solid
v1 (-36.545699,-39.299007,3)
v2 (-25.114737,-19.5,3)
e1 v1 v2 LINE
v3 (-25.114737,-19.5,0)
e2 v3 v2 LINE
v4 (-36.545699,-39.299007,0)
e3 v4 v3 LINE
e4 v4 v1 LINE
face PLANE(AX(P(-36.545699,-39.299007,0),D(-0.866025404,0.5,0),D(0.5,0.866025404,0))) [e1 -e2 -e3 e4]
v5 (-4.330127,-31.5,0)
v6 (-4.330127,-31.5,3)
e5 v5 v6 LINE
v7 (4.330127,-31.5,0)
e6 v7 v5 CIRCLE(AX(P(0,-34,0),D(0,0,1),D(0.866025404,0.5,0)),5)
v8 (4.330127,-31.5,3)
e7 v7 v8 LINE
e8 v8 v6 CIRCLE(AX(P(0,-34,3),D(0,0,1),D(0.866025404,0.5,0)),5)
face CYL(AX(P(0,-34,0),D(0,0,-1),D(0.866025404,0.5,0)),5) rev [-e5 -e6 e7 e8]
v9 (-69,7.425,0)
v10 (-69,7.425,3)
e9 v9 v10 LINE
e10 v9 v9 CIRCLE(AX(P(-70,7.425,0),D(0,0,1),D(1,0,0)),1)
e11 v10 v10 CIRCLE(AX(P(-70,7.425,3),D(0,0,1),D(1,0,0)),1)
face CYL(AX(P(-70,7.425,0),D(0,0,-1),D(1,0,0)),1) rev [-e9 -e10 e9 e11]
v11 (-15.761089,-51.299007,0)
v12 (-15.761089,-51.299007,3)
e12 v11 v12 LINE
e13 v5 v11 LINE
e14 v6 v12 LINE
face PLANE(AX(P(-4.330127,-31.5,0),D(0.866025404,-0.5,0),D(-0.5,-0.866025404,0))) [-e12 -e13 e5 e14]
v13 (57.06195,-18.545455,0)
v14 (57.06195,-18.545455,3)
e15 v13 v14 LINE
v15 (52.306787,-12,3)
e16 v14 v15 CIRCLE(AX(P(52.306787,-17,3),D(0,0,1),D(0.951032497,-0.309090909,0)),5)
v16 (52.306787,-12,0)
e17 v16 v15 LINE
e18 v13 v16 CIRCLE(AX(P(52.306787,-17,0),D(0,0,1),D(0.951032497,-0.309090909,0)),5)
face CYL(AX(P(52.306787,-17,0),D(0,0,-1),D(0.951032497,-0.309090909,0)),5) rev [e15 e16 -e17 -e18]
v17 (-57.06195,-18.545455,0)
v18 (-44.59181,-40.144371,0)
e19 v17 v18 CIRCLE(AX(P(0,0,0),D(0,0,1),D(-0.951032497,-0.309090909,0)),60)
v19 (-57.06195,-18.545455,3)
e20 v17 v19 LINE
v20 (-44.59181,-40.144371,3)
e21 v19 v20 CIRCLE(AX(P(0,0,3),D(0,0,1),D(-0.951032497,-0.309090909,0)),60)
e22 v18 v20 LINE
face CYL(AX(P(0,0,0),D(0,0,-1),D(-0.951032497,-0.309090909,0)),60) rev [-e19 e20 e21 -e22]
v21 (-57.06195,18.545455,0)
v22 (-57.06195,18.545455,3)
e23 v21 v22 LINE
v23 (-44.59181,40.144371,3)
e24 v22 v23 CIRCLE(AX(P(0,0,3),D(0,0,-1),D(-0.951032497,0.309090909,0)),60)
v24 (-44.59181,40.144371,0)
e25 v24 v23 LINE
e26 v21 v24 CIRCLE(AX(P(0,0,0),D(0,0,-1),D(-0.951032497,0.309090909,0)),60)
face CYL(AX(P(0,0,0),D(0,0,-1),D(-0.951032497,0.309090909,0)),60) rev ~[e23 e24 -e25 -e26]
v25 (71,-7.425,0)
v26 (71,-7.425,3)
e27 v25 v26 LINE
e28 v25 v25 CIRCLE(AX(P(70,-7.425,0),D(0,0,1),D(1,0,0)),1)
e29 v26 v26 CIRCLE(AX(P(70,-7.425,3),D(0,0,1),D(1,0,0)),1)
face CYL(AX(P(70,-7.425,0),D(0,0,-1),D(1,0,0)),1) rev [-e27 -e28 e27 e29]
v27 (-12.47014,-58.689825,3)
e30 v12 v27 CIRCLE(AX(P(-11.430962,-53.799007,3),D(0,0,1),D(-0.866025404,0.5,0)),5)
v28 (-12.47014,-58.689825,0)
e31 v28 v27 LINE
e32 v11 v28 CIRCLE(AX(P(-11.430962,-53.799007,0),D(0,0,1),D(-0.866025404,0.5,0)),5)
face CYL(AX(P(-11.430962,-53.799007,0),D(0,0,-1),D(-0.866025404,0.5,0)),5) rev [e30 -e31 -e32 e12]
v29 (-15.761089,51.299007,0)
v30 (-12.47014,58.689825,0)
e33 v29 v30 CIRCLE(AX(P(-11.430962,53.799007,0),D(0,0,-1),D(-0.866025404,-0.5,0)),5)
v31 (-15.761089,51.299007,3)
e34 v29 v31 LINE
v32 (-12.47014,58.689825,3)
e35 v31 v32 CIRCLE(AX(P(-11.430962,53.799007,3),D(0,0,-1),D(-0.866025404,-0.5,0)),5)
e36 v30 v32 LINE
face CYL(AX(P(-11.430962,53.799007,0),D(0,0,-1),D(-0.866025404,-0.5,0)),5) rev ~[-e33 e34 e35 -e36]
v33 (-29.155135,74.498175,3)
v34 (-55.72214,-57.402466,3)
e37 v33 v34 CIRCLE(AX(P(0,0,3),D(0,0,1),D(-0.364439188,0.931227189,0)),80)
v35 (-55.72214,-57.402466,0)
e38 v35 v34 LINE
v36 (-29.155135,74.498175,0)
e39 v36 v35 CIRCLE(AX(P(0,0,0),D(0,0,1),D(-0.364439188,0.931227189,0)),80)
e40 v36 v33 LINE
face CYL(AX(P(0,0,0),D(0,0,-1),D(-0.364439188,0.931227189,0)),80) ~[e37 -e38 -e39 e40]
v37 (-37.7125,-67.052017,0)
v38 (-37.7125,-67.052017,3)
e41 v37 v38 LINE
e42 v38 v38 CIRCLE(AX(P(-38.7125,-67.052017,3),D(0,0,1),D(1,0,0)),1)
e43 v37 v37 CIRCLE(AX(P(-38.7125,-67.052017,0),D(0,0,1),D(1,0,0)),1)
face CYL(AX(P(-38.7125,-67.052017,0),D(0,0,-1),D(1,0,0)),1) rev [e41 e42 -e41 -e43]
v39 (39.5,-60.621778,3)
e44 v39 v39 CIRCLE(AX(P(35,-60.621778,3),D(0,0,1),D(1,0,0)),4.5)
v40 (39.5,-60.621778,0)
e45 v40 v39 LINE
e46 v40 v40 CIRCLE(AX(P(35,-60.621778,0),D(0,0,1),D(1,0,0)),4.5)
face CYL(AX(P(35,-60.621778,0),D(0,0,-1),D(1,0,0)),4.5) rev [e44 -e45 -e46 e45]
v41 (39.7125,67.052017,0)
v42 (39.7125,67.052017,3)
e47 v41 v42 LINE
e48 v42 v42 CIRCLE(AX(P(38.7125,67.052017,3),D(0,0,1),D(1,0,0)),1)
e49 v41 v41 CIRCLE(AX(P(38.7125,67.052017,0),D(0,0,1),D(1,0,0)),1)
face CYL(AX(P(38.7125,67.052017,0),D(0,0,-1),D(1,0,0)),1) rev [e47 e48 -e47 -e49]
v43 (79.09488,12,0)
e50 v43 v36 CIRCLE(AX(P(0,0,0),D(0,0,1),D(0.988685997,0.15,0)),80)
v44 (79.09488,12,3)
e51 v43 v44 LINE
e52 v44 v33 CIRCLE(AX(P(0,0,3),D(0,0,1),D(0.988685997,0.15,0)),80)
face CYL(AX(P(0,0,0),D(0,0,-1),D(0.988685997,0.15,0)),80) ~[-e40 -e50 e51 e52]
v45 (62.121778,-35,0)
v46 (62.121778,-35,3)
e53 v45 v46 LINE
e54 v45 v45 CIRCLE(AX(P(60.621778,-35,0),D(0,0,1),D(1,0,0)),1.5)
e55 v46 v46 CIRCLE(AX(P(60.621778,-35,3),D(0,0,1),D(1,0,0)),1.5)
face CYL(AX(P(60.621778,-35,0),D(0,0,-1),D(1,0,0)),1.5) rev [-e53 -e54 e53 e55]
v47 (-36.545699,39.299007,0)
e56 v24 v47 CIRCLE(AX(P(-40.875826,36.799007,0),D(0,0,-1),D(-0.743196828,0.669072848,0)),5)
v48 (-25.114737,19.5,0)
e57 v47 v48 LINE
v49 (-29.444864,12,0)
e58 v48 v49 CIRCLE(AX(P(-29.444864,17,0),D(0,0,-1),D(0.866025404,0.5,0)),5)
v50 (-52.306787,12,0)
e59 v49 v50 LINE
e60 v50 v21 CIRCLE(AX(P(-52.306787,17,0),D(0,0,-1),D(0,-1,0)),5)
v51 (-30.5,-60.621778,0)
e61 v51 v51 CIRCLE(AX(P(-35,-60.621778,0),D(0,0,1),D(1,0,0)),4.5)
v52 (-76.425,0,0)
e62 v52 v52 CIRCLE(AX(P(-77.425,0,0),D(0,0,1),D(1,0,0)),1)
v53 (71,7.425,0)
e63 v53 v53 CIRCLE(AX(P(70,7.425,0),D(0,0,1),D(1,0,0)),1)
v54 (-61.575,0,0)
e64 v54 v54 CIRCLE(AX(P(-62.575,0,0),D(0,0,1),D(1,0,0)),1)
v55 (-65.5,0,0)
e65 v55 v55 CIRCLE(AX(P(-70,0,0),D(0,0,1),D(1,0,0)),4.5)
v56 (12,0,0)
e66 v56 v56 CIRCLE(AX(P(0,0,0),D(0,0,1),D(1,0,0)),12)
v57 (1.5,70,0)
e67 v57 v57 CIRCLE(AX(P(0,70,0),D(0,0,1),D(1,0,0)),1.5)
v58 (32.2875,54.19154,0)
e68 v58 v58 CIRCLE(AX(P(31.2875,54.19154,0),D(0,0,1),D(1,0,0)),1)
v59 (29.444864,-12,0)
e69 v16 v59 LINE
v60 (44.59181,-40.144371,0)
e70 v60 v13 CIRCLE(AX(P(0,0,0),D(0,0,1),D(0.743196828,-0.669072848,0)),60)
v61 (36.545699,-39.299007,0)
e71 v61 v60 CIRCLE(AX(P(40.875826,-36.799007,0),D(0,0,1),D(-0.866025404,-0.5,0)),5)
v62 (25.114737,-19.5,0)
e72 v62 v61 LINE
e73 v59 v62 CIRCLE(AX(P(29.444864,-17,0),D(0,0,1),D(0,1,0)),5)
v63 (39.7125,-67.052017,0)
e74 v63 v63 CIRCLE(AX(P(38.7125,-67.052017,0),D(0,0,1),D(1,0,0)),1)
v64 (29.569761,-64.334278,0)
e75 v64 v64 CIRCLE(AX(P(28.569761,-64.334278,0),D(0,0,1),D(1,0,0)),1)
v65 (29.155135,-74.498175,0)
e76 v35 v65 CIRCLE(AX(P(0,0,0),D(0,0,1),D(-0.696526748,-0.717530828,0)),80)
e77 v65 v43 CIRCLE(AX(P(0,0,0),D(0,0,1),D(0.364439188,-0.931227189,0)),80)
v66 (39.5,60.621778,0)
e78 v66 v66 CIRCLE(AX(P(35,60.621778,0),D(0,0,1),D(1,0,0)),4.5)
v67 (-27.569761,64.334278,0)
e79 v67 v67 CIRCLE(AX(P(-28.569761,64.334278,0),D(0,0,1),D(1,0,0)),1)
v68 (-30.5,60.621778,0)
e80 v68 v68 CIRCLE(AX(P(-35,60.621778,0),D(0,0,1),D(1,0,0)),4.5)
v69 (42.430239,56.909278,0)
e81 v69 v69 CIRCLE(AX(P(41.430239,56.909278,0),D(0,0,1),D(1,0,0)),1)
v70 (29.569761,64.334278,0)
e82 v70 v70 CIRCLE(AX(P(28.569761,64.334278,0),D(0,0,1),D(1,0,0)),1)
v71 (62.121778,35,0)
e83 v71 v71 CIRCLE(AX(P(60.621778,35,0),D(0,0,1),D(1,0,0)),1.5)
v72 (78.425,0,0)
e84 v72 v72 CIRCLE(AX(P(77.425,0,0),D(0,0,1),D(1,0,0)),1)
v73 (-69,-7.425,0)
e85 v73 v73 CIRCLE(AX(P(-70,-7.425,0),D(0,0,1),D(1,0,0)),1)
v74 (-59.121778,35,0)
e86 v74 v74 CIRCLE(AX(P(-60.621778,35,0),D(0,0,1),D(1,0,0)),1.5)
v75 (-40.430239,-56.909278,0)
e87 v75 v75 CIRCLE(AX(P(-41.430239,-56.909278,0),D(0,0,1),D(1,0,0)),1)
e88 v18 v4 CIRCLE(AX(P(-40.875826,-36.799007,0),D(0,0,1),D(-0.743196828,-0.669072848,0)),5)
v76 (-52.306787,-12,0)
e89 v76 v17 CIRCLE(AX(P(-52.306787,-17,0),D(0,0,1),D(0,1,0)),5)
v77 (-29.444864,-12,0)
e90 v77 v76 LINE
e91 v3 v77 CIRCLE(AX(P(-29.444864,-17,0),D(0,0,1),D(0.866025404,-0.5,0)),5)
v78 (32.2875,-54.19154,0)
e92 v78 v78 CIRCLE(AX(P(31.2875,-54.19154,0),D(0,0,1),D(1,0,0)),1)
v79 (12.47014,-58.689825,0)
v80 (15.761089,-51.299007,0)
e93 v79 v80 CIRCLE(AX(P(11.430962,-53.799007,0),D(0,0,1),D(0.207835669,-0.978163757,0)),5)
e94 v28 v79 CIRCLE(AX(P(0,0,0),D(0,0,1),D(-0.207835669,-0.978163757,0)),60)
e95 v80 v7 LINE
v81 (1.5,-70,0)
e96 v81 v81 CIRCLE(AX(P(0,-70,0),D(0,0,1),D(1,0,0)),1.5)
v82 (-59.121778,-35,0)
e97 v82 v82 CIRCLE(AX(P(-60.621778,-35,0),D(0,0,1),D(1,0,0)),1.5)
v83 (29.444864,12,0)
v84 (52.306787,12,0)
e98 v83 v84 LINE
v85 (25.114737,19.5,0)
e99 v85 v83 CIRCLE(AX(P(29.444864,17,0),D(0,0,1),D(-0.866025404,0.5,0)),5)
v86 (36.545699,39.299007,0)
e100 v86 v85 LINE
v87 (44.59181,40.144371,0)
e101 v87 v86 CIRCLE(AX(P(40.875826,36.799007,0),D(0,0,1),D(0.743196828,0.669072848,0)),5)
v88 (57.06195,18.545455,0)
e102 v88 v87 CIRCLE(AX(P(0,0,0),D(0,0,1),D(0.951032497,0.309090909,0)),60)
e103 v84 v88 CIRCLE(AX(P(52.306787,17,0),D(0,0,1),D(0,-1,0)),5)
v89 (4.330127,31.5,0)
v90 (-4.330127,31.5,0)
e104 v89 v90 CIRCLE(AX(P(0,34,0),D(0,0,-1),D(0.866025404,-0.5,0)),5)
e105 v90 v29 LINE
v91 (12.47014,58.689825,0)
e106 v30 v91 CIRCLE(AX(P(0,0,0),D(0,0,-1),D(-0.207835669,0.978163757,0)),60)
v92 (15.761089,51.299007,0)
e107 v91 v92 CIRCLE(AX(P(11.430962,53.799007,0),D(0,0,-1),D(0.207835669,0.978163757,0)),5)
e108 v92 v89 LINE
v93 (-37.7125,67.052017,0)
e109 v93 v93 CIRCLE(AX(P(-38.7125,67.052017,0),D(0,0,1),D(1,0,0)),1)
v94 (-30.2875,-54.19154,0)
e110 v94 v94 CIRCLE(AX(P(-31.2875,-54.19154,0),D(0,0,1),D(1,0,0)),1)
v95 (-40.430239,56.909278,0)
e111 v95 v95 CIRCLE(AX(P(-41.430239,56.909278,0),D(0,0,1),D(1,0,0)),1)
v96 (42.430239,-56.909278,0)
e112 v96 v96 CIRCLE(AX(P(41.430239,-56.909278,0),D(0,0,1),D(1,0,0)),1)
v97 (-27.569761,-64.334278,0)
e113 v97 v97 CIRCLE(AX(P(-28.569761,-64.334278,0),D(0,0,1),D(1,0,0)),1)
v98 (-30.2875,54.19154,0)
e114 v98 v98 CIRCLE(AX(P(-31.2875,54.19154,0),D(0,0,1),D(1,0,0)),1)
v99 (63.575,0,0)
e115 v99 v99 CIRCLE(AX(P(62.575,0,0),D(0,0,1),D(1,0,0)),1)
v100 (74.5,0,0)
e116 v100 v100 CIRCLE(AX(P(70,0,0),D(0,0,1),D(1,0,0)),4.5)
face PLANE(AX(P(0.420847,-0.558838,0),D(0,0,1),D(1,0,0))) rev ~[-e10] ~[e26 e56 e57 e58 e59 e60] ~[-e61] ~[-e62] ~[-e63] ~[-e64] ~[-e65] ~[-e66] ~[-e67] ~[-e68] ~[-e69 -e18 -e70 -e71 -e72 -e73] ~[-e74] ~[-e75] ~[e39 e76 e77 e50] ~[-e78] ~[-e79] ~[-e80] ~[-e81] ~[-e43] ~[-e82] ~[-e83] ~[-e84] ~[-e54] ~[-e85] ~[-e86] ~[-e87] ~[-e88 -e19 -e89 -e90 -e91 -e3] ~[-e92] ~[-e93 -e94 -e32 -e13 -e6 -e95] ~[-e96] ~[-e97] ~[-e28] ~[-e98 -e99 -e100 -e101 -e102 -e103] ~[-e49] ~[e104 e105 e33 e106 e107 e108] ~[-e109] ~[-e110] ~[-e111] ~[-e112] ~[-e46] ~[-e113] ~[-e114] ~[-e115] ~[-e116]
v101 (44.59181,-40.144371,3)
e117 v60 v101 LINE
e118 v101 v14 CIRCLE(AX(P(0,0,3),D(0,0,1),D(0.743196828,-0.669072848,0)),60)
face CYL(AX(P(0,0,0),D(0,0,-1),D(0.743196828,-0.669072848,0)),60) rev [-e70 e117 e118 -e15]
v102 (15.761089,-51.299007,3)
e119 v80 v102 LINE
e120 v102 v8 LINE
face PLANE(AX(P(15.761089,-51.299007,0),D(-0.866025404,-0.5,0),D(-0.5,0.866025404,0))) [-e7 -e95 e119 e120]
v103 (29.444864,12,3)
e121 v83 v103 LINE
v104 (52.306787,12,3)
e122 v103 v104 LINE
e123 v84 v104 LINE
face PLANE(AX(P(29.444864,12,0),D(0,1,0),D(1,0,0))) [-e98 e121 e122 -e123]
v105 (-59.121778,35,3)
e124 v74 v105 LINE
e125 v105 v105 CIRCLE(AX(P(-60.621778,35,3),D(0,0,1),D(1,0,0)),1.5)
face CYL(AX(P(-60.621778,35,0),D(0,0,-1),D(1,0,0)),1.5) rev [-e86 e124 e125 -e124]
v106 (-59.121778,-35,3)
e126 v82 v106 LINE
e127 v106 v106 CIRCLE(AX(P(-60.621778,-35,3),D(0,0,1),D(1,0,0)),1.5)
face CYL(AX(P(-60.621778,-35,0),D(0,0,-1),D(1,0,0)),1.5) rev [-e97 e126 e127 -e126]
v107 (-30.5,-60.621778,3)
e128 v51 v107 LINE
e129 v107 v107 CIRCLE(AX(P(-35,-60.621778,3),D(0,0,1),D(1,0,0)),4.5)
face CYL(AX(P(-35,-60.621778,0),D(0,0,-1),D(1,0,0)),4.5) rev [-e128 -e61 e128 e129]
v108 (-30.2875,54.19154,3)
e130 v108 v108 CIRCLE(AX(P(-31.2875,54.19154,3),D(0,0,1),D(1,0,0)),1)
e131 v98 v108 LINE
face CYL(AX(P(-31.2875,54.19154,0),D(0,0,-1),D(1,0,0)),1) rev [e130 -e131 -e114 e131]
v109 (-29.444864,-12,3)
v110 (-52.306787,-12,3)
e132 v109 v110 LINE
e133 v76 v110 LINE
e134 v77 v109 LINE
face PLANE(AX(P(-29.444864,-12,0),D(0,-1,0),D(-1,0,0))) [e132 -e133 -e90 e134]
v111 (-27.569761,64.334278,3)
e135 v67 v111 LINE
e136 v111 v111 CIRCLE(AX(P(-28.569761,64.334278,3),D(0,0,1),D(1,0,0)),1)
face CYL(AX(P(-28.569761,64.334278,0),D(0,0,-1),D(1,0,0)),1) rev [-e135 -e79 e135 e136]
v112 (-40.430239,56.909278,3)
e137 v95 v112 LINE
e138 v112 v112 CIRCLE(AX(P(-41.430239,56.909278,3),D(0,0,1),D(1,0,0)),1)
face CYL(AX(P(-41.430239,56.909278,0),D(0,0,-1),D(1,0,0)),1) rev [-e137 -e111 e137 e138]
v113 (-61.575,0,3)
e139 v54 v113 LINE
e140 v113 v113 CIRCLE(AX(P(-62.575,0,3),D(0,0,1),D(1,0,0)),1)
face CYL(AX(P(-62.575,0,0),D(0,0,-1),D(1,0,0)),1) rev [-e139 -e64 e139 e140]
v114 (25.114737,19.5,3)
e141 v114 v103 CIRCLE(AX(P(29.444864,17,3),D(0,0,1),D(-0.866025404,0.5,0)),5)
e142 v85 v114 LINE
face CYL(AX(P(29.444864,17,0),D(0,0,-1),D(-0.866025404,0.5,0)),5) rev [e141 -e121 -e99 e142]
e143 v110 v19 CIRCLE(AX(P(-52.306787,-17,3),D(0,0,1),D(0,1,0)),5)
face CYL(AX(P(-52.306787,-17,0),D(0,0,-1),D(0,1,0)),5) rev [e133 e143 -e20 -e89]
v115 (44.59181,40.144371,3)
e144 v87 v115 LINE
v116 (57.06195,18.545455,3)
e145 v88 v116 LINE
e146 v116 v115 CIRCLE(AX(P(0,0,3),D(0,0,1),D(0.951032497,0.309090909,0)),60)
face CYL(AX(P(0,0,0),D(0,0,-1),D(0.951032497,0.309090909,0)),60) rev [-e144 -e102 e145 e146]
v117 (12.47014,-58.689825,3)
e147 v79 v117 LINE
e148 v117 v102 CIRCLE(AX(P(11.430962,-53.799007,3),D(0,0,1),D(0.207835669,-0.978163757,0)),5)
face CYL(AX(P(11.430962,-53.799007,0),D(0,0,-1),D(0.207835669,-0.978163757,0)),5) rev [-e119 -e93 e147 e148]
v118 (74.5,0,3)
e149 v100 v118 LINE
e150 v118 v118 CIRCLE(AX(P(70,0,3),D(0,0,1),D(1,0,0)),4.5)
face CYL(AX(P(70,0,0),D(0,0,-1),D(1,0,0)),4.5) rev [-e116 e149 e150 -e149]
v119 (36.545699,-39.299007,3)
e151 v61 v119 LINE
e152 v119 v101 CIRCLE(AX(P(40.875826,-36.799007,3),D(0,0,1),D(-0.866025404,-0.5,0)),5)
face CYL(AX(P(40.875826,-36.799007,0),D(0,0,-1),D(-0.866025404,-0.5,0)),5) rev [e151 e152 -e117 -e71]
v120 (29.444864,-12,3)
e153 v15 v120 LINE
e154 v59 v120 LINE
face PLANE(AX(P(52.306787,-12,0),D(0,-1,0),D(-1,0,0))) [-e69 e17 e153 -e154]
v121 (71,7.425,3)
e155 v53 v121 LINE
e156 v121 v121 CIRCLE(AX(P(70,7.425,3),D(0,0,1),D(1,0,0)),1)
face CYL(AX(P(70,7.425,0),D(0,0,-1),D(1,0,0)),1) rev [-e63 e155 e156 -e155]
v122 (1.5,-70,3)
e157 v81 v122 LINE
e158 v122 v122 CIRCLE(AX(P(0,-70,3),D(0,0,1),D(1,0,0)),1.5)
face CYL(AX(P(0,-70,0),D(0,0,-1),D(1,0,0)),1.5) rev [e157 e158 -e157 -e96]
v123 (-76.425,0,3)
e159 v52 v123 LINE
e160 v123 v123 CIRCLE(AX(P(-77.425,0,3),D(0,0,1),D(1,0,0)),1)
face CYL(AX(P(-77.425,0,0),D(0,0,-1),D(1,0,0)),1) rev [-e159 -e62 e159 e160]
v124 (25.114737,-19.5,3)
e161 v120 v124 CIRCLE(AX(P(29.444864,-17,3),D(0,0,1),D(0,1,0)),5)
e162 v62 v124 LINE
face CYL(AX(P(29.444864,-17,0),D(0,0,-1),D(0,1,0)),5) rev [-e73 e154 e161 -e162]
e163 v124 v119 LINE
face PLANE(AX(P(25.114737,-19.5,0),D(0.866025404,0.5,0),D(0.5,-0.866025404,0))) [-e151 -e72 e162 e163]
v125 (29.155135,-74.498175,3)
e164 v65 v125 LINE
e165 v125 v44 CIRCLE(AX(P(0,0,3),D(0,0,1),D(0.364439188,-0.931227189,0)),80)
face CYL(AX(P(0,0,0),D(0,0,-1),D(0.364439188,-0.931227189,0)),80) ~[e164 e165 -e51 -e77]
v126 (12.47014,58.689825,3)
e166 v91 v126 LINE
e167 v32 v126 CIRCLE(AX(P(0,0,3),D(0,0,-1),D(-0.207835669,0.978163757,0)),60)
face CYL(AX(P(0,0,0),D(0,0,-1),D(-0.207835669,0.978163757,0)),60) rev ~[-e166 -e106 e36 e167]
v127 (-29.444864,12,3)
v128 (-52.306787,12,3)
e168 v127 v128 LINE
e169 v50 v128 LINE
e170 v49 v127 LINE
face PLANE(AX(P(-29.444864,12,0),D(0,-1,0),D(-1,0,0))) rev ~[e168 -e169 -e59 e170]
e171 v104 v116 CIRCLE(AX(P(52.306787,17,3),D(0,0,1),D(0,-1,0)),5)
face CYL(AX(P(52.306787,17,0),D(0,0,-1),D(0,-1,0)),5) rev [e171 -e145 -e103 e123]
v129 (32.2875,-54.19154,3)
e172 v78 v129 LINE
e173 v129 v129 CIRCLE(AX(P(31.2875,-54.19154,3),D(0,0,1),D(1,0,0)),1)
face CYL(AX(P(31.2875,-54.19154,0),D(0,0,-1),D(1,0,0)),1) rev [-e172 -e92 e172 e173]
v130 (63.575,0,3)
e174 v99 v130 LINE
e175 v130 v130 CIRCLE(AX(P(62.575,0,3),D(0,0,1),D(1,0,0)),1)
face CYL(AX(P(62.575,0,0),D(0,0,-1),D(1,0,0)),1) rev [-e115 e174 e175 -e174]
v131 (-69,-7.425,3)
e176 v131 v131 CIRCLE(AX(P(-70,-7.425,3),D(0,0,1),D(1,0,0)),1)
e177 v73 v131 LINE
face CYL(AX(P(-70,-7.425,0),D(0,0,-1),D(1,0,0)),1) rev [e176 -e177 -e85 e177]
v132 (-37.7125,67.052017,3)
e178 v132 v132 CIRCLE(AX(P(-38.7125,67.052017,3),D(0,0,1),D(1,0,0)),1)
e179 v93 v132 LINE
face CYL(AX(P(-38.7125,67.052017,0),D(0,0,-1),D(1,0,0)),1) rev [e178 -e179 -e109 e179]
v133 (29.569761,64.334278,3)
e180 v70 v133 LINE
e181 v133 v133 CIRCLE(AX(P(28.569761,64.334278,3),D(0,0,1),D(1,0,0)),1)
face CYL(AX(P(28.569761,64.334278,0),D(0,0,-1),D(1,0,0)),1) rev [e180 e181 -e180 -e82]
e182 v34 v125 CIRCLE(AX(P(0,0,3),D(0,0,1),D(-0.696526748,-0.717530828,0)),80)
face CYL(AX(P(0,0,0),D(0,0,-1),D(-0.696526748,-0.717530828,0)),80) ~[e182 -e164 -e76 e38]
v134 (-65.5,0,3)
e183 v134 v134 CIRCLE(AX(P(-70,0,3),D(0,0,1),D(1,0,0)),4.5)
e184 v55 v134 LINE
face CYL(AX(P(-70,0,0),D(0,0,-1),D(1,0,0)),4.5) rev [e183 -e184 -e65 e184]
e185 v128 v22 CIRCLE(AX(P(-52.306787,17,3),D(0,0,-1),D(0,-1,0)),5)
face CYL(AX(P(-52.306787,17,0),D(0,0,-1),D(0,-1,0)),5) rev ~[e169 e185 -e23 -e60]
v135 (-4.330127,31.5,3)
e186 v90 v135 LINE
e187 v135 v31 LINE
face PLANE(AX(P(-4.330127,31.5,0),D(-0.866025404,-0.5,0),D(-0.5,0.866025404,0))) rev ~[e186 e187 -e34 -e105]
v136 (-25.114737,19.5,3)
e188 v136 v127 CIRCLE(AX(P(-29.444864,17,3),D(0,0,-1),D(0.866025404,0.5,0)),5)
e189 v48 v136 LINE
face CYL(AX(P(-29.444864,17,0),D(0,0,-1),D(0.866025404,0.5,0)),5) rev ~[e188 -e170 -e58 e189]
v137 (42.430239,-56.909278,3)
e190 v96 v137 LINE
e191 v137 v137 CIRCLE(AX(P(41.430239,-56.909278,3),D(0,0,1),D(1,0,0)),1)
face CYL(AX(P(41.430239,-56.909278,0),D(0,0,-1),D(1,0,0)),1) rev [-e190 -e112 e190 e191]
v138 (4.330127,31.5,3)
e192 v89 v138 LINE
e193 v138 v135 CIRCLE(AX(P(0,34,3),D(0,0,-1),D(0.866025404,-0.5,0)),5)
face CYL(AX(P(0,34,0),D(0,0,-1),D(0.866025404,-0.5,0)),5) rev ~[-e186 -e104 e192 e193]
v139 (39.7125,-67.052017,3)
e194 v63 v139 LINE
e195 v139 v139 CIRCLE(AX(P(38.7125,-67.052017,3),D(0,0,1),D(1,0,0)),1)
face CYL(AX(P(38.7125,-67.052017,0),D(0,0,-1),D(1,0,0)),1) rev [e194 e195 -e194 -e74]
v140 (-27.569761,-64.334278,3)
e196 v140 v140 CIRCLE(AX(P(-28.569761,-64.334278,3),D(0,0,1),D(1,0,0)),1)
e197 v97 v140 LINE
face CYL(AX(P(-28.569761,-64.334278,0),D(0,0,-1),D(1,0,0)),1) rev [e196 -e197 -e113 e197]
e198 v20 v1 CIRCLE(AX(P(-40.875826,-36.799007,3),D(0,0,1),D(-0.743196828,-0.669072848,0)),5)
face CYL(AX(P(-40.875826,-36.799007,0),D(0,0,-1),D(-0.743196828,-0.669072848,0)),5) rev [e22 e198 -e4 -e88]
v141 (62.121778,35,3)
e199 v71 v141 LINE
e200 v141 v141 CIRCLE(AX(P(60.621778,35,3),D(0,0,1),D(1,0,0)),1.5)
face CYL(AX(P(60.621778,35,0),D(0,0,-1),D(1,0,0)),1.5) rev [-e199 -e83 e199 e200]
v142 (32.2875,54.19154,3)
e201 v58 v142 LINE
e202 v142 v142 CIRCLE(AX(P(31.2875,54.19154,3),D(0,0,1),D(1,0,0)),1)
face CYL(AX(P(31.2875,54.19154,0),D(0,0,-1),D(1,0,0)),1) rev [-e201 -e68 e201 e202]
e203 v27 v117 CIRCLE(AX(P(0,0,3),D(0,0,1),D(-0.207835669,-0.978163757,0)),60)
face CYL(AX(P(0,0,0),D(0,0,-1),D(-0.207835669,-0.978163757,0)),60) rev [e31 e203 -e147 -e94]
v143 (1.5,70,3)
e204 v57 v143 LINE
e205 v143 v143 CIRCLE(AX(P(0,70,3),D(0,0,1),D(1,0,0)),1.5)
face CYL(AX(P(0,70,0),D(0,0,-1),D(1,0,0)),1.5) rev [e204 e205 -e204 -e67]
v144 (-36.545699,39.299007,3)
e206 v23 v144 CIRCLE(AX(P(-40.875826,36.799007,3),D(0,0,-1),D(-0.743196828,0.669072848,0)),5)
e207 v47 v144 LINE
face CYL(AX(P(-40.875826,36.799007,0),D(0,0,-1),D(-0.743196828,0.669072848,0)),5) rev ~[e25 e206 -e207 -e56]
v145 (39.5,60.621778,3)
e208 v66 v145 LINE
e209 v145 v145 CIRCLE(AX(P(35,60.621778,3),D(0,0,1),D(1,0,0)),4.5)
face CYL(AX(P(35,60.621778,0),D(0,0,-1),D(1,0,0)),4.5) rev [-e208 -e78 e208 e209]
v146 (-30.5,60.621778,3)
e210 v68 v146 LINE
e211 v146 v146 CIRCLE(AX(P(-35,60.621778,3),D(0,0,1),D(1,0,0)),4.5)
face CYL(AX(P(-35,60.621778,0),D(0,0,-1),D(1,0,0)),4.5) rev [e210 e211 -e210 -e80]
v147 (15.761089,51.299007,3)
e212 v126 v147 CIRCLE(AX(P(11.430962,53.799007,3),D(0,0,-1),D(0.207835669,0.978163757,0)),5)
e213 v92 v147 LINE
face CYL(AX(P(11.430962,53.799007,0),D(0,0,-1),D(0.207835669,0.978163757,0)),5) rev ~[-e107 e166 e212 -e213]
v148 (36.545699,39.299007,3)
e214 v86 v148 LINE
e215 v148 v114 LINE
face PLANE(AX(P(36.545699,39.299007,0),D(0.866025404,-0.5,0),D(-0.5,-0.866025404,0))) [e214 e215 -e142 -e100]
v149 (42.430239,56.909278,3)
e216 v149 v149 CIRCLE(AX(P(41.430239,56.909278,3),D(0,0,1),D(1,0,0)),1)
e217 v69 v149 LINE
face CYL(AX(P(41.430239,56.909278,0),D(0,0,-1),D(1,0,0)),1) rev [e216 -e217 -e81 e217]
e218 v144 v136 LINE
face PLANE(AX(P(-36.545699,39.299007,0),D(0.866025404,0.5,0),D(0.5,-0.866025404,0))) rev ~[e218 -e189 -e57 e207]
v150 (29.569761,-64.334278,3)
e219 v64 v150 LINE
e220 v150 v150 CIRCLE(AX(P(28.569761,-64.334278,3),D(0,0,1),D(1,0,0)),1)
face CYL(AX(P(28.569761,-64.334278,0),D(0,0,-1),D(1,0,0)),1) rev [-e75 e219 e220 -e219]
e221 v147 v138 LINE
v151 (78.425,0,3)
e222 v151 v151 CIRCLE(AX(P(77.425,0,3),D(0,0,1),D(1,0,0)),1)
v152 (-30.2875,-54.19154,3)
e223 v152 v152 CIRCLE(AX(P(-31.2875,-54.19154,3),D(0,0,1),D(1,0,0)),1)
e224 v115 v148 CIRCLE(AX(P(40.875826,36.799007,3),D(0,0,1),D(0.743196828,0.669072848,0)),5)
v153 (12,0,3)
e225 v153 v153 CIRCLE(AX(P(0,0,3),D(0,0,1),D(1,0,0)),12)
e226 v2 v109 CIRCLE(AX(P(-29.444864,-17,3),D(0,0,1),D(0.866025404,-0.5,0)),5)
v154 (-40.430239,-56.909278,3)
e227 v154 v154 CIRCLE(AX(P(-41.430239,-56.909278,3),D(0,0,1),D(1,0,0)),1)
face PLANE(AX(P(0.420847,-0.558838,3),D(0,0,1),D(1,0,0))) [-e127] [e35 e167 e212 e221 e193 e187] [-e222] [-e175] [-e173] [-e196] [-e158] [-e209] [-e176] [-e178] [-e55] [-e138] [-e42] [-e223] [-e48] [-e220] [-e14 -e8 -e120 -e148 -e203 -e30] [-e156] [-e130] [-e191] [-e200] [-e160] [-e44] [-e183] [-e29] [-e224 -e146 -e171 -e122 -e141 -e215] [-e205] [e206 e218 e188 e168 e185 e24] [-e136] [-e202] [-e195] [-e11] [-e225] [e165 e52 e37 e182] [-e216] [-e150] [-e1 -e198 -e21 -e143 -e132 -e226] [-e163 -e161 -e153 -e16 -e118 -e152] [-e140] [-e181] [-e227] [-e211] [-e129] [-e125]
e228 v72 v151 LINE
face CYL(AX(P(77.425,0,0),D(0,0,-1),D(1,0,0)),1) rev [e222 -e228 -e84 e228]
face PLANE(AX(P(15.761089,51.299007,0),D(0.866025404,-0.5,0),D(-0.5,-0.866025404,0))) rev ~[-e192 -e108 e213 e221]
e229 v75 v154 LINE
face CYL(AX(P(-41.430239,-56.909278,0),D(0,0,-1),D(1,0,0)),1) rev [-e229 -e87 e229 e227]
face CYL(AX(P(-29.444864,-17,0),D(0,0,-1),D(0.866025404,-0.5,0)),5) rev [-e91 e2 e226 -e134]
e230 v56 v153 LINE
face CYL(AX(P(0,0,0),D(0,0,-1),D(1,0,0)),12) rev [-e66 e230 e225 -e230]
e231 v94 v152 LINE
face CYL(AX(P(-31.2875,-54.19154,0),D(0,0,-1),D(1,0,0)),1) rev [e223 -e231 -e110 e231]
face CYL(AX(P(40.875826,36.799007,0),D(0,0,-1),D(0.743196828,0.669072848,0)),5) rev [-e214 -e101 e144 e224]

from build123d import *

# Parameters (mm, degrees)
SKETCH1_R           = 4.5
SKETCH1_R_2         = 1
SKETCH1_R_3         = 12
SKETCH1_R_4         = 1.5
BOSS_EXTRUDE1_DEPTH = 3


with BuildPart() as part:
    # Sketch1 → Boss-Extrude1 (new body)
    with BuildSketch(Plane.XY):
        with BuildLine():
            ThreePointArc((-55.722139859, -57.402466232), (-15.796115106, -78.425013532), (29.155135021, -74.498175158))
            ThreePointArc((29.155135021, -74.498175158), (69.282032303, -40), (79.094879733, 12))
            ThreePointArc((79.094879733, 12), (40, 69.282032303), (-29.155135021, 74.498175158))
            ThreePointArc((-29.155135021, 74.498175158), (-78.425013532, 15.796115106), (-55.722139859, -57.402466232))
        make_face()
        with Locations((70, 0)):
            Circle(SKETCH1_R, mode=Mode.SUBTRACT)
        with Locations((77.425, 0)):
            Circle(SKETCH1_R_2, mode=Mode.SUBTRACT)
        with Locations((70, 7.425)):
            Circle(SKETCH1_R_2, mode=Mode.SUBTRACT)
        with Locations((62.575, 0)):
            Circle(SKETCH1_R_2, mode=Mode.SUBTRACT)
        with Locations((70, -7.425)):
            Circle(SKETCH1_R_2, mode=Mode.SUBTRACT)
        with Locations((35, -60.621778265)):
            Circle(SKETCH1_R, mode=Mode.SUBTRACT)
        with Locations((41.430238623, -56.909278265)):
            Circle(SKETCH1_R_2, mode=Mode.SUBTRACT)
        with Locations((38.7125, -67.052016888)):
            Circle(SKETCH1_R_2, mode=Mode.SUBTRACT)
        with Locations((28.569761377, -64.334278265)):
            Circle(SKETCH1_R_2, mode=Mode.SUBTRACT)
        with Locations((31.2875, -54.191539642)):
            Circle(SKETCH1_R_2, mode=Mode.SUBTRACT)
        with Locations((-35, -60.621778265)):
            Circle(SKETCH1_R, mode=Mode.SUBTRACT)
        with Locations((-28.569761377, -64.334278265)):
            Circle(SKETCH1_R_2, mode=Mode.SUBTRACT)
        with Locations((-38.7125, -67.052016888)):
            Circle(SKETCH1_R_2, mode=Mode.SUBTRACT)
        with Locations((-41.430238623, -56.909278265)):
            Circle(SKETCH1_R_2, mode=Mode.SUBTRACT)
        with Locations((-31.2875, -54.191539642)):
            Circle(SKETCH1_R_2, mode=Mode.SUBTRACT)
        with Locations((-70, 0)):
            Circle(SKETCH1_R, mode=Mode.SUBTRACT)
        with Locations((-70, -7.425)):
            Circle(SKETCH1_R_2, mode=Mode.SUBTRACT)
        with Locations((-77.425, 0)):
            Circle(SKETCH1_R_2, mode=Mode.SUBTRACT)
        with Locations((-70, 7.425)):
            Circle(SKETCH1_R_2, mode=Mode.SUBTRACT)
        with Locations((-62.575, 0)):
            Circle(SKETCH1_R_2, mode=Mode.SUBTRACT)
        with Locations((-35, 60.621778265)):
            Circle(SKETCH1_R, mode=Mode.SUBTRACT)
        with Locations((-41.430238623, 56.909278265)):
            Circle(SKETCH1_R_2, mode=Mode.SUBTRACT)
        with Locations((-38.7125, 67.052016888)):
            Circle(SKETCH1_R_2, mode=Mode.SUBTRACT)
        with Locations((-28.569761377, 64.334278265)):
            Circle(SKETCH1_R_2, mode=Mode.SUBTRACT)
        with Locations((-31.2875, 54.191539642)):
            Circle(SKETCH1_R_2, mode=Mode.SUBTRACT)
        with Locations((35, 60.621778265)):
            Circle(SKETCH1_R, mode=Mode.SUBTRACT)
        with Locations((28.569761377, 64.334278265)):
            Circle(SKETCH1_R_2, mode=Mode.SUBTRACT)
        with Locations((38.7125, 67.052016888)):
            Circle(SKETCH1_R_2, mode=Mode.SUBTRACT)
        with Locations((41.430238623, 56.909278265)):
            Circle(SKETCH1_R_2, mode=Mode.SUBTRACT)
        with Locations((31.2875, 54.191539642)):
            Circle(SKETCH1_R_2, mode=Mode.SUBTRACT)
        Circle(SKETCH1_R_3, mode=Mode.SUBTRACT)
        with Locations((0, 70)):
            Circle(SKETCH1_R_4, mode=Mode.SUBTRACT)
        with Locations((60.621778265, 35)):
            Circle(SKETCH1_R_4, mode=Mode.SUBTRACT)
        with Locations((60.621778265, -35)):
            Circle(SKETCH1_R_4, mode=Mode.SUBTRACT)
        with Locations((0, -70)):
            Circle(SKETCH1_R_4, mode=Mode.SUBTRACT)
        with Locations((-60.621778265, -35)):
            Circle(SKETCH1_R_4, mode=Mode.SUBTRACT)
        with Locations((-60.621778265, 35)):
            Circle(SKETCH1_R_4, mode=Mode.SUBTRACT)
        with BuildLine():
            Line((-36.545698507, 39.299006612), (-25.11473671, 19.5))
            ThreePointArc((-25.11473671, 19.5), (-25.11473671, 14.5), (-29.444863729, 12))
            Line((-29.444863729, 12), (-52.306787322, 12))
            ThreePointArc((-52.306787322, 12), (-56.351986497, 14.061230932), (-57.061949806, 18.545454545))
            ThreePointArc((-57.061949806, 18.545454545), (-51.961524227, 30), (-44.591809664, 40.144370849))
            ThreePointArc((-44.591809664, 40.144370849), (-40.353376444, 41.771636394), (-36.545698507, 39.299006612))
        make_face(mode=Mode.SUBTRACT)
        with BuildLine():
            Line((15.761088816, 51.299006612), (4.330127019, 31.5))
            ThreePointArc((4.330127019, 31.5), (0, 29), (-4.330127019, 31.5))
            Line((-4.330127019, 31.5), (-15.761088816, 51.299006612))
            ThreePointArc((-15.761088816, 51.299006612), (-15.998610053, 55.832867326), (-12.470140142, 58.689825394))
            ThreePointArc((-12.470140142, 58.689825394), (0, 60), (12.470140142, 58.689825394))
            ThreePointArc((12.470140142, 58.689825394), (15.998610053, 55.832867326), (15.761088816, 51.299006612))
        make_face(mode=Mode.SUBTRACT)
        with BuildLine():
            Line((36.545698507, 39.299006612), (25.11473671, 19.5))
            ThreePointArc((25.11473671, 19.5), (25.11473671, 14.5), (29.444863729, 12))
            Line((29.444863729, 12), (52.306787322, 12))
            ThreePointArc((52.306787322, 12), (56.351986497, 14.061230932), (57.061949806, 18.545454545))
            ThreePointArc((57.061949806, 18.545454545), (51.961524227, 30), (44.591809664, 40.144370849))
            ThreePointArc((44.591809664, 40.144370849), (40.353376444, 41.771636394), (36.545698507, 39.299006612))
        make_face(mode=Mode.SUBTRACT)
        with BuildLine():
            Line((52.306787322, -12), (29.444863729, -12))
            ThreePointArc((29.444863729, -12), (25.11473671, -14.5), (25.11473671, -19.5))
            Line((25.11473671, -19.5), (36.545698507, -39.299006612))
            ThreePointArc((36.545698507, -39.299006612), (40.353376444, -41.771636394), (44.591809664, -40.144370849))
            ThreePointArc((44.591809664, -40.144370849), (51.961524227, -30), (57.061949806, -18.545454545))
            ThreePointArc((57.061949806, -18.545454545), (56.351986497, -14.061230932), (52.306787322, -12))
        make_face(mode=Mode.SUBTRACT)
        with BuildLine():
            Line((15.761088816, -51.299006612), (4.330127019, -31.5))
            ThreePointArc((4.330127019, -31.5), (0, -29), (-4.330127019, -31.5))
            Line((-4.330127019, -31.5), (-15.761088816, -51.299006612))
            ThreePointArc((-15.761088816, -51.299006612), (-15.998610053, -55.832867326), (-12.470140142, -58.689825395))
            ThreePointArc((-12.470140142, -58.689825395), (0, -60), (12.470140142, -58.689825394))
            ThreePointArc((12.470140142, -58.689825394), (15.998610053, -55.832867326), (15.761088816, -51.299006612))
        make_face(mode=Mode.SUBTRACT)
        with BuildLine():
            Line((-36.545698507, -39.299006612), (-25.11473671, -19.5))
            ThreePointArc((-25.11473671, -19.5), (-25.11473671, -14.5), (-29.444863729, -12))
            Line((-29.444863729, -12), (-52.306787322, -12))
            ThreePointArc((-52.306787322, -12), (-56.351986497, -14.061230932), (-57.061949806, -18.545454545))
            ThreePointArc((-57.061949806, -18.545454545), (-51.961524227, -30), (-44.591809664, -40.144370849))
            ThreePointArc((-44.591809664, -40.144370849), (-40.353376444, -41.771636394), (-36.545698507, -39.299006612))
        make_face(mode=Mode.SUBTRACT)
    extrude(amount=BOSS_EXTRUDE1_DEPTH)


solid = part.part
